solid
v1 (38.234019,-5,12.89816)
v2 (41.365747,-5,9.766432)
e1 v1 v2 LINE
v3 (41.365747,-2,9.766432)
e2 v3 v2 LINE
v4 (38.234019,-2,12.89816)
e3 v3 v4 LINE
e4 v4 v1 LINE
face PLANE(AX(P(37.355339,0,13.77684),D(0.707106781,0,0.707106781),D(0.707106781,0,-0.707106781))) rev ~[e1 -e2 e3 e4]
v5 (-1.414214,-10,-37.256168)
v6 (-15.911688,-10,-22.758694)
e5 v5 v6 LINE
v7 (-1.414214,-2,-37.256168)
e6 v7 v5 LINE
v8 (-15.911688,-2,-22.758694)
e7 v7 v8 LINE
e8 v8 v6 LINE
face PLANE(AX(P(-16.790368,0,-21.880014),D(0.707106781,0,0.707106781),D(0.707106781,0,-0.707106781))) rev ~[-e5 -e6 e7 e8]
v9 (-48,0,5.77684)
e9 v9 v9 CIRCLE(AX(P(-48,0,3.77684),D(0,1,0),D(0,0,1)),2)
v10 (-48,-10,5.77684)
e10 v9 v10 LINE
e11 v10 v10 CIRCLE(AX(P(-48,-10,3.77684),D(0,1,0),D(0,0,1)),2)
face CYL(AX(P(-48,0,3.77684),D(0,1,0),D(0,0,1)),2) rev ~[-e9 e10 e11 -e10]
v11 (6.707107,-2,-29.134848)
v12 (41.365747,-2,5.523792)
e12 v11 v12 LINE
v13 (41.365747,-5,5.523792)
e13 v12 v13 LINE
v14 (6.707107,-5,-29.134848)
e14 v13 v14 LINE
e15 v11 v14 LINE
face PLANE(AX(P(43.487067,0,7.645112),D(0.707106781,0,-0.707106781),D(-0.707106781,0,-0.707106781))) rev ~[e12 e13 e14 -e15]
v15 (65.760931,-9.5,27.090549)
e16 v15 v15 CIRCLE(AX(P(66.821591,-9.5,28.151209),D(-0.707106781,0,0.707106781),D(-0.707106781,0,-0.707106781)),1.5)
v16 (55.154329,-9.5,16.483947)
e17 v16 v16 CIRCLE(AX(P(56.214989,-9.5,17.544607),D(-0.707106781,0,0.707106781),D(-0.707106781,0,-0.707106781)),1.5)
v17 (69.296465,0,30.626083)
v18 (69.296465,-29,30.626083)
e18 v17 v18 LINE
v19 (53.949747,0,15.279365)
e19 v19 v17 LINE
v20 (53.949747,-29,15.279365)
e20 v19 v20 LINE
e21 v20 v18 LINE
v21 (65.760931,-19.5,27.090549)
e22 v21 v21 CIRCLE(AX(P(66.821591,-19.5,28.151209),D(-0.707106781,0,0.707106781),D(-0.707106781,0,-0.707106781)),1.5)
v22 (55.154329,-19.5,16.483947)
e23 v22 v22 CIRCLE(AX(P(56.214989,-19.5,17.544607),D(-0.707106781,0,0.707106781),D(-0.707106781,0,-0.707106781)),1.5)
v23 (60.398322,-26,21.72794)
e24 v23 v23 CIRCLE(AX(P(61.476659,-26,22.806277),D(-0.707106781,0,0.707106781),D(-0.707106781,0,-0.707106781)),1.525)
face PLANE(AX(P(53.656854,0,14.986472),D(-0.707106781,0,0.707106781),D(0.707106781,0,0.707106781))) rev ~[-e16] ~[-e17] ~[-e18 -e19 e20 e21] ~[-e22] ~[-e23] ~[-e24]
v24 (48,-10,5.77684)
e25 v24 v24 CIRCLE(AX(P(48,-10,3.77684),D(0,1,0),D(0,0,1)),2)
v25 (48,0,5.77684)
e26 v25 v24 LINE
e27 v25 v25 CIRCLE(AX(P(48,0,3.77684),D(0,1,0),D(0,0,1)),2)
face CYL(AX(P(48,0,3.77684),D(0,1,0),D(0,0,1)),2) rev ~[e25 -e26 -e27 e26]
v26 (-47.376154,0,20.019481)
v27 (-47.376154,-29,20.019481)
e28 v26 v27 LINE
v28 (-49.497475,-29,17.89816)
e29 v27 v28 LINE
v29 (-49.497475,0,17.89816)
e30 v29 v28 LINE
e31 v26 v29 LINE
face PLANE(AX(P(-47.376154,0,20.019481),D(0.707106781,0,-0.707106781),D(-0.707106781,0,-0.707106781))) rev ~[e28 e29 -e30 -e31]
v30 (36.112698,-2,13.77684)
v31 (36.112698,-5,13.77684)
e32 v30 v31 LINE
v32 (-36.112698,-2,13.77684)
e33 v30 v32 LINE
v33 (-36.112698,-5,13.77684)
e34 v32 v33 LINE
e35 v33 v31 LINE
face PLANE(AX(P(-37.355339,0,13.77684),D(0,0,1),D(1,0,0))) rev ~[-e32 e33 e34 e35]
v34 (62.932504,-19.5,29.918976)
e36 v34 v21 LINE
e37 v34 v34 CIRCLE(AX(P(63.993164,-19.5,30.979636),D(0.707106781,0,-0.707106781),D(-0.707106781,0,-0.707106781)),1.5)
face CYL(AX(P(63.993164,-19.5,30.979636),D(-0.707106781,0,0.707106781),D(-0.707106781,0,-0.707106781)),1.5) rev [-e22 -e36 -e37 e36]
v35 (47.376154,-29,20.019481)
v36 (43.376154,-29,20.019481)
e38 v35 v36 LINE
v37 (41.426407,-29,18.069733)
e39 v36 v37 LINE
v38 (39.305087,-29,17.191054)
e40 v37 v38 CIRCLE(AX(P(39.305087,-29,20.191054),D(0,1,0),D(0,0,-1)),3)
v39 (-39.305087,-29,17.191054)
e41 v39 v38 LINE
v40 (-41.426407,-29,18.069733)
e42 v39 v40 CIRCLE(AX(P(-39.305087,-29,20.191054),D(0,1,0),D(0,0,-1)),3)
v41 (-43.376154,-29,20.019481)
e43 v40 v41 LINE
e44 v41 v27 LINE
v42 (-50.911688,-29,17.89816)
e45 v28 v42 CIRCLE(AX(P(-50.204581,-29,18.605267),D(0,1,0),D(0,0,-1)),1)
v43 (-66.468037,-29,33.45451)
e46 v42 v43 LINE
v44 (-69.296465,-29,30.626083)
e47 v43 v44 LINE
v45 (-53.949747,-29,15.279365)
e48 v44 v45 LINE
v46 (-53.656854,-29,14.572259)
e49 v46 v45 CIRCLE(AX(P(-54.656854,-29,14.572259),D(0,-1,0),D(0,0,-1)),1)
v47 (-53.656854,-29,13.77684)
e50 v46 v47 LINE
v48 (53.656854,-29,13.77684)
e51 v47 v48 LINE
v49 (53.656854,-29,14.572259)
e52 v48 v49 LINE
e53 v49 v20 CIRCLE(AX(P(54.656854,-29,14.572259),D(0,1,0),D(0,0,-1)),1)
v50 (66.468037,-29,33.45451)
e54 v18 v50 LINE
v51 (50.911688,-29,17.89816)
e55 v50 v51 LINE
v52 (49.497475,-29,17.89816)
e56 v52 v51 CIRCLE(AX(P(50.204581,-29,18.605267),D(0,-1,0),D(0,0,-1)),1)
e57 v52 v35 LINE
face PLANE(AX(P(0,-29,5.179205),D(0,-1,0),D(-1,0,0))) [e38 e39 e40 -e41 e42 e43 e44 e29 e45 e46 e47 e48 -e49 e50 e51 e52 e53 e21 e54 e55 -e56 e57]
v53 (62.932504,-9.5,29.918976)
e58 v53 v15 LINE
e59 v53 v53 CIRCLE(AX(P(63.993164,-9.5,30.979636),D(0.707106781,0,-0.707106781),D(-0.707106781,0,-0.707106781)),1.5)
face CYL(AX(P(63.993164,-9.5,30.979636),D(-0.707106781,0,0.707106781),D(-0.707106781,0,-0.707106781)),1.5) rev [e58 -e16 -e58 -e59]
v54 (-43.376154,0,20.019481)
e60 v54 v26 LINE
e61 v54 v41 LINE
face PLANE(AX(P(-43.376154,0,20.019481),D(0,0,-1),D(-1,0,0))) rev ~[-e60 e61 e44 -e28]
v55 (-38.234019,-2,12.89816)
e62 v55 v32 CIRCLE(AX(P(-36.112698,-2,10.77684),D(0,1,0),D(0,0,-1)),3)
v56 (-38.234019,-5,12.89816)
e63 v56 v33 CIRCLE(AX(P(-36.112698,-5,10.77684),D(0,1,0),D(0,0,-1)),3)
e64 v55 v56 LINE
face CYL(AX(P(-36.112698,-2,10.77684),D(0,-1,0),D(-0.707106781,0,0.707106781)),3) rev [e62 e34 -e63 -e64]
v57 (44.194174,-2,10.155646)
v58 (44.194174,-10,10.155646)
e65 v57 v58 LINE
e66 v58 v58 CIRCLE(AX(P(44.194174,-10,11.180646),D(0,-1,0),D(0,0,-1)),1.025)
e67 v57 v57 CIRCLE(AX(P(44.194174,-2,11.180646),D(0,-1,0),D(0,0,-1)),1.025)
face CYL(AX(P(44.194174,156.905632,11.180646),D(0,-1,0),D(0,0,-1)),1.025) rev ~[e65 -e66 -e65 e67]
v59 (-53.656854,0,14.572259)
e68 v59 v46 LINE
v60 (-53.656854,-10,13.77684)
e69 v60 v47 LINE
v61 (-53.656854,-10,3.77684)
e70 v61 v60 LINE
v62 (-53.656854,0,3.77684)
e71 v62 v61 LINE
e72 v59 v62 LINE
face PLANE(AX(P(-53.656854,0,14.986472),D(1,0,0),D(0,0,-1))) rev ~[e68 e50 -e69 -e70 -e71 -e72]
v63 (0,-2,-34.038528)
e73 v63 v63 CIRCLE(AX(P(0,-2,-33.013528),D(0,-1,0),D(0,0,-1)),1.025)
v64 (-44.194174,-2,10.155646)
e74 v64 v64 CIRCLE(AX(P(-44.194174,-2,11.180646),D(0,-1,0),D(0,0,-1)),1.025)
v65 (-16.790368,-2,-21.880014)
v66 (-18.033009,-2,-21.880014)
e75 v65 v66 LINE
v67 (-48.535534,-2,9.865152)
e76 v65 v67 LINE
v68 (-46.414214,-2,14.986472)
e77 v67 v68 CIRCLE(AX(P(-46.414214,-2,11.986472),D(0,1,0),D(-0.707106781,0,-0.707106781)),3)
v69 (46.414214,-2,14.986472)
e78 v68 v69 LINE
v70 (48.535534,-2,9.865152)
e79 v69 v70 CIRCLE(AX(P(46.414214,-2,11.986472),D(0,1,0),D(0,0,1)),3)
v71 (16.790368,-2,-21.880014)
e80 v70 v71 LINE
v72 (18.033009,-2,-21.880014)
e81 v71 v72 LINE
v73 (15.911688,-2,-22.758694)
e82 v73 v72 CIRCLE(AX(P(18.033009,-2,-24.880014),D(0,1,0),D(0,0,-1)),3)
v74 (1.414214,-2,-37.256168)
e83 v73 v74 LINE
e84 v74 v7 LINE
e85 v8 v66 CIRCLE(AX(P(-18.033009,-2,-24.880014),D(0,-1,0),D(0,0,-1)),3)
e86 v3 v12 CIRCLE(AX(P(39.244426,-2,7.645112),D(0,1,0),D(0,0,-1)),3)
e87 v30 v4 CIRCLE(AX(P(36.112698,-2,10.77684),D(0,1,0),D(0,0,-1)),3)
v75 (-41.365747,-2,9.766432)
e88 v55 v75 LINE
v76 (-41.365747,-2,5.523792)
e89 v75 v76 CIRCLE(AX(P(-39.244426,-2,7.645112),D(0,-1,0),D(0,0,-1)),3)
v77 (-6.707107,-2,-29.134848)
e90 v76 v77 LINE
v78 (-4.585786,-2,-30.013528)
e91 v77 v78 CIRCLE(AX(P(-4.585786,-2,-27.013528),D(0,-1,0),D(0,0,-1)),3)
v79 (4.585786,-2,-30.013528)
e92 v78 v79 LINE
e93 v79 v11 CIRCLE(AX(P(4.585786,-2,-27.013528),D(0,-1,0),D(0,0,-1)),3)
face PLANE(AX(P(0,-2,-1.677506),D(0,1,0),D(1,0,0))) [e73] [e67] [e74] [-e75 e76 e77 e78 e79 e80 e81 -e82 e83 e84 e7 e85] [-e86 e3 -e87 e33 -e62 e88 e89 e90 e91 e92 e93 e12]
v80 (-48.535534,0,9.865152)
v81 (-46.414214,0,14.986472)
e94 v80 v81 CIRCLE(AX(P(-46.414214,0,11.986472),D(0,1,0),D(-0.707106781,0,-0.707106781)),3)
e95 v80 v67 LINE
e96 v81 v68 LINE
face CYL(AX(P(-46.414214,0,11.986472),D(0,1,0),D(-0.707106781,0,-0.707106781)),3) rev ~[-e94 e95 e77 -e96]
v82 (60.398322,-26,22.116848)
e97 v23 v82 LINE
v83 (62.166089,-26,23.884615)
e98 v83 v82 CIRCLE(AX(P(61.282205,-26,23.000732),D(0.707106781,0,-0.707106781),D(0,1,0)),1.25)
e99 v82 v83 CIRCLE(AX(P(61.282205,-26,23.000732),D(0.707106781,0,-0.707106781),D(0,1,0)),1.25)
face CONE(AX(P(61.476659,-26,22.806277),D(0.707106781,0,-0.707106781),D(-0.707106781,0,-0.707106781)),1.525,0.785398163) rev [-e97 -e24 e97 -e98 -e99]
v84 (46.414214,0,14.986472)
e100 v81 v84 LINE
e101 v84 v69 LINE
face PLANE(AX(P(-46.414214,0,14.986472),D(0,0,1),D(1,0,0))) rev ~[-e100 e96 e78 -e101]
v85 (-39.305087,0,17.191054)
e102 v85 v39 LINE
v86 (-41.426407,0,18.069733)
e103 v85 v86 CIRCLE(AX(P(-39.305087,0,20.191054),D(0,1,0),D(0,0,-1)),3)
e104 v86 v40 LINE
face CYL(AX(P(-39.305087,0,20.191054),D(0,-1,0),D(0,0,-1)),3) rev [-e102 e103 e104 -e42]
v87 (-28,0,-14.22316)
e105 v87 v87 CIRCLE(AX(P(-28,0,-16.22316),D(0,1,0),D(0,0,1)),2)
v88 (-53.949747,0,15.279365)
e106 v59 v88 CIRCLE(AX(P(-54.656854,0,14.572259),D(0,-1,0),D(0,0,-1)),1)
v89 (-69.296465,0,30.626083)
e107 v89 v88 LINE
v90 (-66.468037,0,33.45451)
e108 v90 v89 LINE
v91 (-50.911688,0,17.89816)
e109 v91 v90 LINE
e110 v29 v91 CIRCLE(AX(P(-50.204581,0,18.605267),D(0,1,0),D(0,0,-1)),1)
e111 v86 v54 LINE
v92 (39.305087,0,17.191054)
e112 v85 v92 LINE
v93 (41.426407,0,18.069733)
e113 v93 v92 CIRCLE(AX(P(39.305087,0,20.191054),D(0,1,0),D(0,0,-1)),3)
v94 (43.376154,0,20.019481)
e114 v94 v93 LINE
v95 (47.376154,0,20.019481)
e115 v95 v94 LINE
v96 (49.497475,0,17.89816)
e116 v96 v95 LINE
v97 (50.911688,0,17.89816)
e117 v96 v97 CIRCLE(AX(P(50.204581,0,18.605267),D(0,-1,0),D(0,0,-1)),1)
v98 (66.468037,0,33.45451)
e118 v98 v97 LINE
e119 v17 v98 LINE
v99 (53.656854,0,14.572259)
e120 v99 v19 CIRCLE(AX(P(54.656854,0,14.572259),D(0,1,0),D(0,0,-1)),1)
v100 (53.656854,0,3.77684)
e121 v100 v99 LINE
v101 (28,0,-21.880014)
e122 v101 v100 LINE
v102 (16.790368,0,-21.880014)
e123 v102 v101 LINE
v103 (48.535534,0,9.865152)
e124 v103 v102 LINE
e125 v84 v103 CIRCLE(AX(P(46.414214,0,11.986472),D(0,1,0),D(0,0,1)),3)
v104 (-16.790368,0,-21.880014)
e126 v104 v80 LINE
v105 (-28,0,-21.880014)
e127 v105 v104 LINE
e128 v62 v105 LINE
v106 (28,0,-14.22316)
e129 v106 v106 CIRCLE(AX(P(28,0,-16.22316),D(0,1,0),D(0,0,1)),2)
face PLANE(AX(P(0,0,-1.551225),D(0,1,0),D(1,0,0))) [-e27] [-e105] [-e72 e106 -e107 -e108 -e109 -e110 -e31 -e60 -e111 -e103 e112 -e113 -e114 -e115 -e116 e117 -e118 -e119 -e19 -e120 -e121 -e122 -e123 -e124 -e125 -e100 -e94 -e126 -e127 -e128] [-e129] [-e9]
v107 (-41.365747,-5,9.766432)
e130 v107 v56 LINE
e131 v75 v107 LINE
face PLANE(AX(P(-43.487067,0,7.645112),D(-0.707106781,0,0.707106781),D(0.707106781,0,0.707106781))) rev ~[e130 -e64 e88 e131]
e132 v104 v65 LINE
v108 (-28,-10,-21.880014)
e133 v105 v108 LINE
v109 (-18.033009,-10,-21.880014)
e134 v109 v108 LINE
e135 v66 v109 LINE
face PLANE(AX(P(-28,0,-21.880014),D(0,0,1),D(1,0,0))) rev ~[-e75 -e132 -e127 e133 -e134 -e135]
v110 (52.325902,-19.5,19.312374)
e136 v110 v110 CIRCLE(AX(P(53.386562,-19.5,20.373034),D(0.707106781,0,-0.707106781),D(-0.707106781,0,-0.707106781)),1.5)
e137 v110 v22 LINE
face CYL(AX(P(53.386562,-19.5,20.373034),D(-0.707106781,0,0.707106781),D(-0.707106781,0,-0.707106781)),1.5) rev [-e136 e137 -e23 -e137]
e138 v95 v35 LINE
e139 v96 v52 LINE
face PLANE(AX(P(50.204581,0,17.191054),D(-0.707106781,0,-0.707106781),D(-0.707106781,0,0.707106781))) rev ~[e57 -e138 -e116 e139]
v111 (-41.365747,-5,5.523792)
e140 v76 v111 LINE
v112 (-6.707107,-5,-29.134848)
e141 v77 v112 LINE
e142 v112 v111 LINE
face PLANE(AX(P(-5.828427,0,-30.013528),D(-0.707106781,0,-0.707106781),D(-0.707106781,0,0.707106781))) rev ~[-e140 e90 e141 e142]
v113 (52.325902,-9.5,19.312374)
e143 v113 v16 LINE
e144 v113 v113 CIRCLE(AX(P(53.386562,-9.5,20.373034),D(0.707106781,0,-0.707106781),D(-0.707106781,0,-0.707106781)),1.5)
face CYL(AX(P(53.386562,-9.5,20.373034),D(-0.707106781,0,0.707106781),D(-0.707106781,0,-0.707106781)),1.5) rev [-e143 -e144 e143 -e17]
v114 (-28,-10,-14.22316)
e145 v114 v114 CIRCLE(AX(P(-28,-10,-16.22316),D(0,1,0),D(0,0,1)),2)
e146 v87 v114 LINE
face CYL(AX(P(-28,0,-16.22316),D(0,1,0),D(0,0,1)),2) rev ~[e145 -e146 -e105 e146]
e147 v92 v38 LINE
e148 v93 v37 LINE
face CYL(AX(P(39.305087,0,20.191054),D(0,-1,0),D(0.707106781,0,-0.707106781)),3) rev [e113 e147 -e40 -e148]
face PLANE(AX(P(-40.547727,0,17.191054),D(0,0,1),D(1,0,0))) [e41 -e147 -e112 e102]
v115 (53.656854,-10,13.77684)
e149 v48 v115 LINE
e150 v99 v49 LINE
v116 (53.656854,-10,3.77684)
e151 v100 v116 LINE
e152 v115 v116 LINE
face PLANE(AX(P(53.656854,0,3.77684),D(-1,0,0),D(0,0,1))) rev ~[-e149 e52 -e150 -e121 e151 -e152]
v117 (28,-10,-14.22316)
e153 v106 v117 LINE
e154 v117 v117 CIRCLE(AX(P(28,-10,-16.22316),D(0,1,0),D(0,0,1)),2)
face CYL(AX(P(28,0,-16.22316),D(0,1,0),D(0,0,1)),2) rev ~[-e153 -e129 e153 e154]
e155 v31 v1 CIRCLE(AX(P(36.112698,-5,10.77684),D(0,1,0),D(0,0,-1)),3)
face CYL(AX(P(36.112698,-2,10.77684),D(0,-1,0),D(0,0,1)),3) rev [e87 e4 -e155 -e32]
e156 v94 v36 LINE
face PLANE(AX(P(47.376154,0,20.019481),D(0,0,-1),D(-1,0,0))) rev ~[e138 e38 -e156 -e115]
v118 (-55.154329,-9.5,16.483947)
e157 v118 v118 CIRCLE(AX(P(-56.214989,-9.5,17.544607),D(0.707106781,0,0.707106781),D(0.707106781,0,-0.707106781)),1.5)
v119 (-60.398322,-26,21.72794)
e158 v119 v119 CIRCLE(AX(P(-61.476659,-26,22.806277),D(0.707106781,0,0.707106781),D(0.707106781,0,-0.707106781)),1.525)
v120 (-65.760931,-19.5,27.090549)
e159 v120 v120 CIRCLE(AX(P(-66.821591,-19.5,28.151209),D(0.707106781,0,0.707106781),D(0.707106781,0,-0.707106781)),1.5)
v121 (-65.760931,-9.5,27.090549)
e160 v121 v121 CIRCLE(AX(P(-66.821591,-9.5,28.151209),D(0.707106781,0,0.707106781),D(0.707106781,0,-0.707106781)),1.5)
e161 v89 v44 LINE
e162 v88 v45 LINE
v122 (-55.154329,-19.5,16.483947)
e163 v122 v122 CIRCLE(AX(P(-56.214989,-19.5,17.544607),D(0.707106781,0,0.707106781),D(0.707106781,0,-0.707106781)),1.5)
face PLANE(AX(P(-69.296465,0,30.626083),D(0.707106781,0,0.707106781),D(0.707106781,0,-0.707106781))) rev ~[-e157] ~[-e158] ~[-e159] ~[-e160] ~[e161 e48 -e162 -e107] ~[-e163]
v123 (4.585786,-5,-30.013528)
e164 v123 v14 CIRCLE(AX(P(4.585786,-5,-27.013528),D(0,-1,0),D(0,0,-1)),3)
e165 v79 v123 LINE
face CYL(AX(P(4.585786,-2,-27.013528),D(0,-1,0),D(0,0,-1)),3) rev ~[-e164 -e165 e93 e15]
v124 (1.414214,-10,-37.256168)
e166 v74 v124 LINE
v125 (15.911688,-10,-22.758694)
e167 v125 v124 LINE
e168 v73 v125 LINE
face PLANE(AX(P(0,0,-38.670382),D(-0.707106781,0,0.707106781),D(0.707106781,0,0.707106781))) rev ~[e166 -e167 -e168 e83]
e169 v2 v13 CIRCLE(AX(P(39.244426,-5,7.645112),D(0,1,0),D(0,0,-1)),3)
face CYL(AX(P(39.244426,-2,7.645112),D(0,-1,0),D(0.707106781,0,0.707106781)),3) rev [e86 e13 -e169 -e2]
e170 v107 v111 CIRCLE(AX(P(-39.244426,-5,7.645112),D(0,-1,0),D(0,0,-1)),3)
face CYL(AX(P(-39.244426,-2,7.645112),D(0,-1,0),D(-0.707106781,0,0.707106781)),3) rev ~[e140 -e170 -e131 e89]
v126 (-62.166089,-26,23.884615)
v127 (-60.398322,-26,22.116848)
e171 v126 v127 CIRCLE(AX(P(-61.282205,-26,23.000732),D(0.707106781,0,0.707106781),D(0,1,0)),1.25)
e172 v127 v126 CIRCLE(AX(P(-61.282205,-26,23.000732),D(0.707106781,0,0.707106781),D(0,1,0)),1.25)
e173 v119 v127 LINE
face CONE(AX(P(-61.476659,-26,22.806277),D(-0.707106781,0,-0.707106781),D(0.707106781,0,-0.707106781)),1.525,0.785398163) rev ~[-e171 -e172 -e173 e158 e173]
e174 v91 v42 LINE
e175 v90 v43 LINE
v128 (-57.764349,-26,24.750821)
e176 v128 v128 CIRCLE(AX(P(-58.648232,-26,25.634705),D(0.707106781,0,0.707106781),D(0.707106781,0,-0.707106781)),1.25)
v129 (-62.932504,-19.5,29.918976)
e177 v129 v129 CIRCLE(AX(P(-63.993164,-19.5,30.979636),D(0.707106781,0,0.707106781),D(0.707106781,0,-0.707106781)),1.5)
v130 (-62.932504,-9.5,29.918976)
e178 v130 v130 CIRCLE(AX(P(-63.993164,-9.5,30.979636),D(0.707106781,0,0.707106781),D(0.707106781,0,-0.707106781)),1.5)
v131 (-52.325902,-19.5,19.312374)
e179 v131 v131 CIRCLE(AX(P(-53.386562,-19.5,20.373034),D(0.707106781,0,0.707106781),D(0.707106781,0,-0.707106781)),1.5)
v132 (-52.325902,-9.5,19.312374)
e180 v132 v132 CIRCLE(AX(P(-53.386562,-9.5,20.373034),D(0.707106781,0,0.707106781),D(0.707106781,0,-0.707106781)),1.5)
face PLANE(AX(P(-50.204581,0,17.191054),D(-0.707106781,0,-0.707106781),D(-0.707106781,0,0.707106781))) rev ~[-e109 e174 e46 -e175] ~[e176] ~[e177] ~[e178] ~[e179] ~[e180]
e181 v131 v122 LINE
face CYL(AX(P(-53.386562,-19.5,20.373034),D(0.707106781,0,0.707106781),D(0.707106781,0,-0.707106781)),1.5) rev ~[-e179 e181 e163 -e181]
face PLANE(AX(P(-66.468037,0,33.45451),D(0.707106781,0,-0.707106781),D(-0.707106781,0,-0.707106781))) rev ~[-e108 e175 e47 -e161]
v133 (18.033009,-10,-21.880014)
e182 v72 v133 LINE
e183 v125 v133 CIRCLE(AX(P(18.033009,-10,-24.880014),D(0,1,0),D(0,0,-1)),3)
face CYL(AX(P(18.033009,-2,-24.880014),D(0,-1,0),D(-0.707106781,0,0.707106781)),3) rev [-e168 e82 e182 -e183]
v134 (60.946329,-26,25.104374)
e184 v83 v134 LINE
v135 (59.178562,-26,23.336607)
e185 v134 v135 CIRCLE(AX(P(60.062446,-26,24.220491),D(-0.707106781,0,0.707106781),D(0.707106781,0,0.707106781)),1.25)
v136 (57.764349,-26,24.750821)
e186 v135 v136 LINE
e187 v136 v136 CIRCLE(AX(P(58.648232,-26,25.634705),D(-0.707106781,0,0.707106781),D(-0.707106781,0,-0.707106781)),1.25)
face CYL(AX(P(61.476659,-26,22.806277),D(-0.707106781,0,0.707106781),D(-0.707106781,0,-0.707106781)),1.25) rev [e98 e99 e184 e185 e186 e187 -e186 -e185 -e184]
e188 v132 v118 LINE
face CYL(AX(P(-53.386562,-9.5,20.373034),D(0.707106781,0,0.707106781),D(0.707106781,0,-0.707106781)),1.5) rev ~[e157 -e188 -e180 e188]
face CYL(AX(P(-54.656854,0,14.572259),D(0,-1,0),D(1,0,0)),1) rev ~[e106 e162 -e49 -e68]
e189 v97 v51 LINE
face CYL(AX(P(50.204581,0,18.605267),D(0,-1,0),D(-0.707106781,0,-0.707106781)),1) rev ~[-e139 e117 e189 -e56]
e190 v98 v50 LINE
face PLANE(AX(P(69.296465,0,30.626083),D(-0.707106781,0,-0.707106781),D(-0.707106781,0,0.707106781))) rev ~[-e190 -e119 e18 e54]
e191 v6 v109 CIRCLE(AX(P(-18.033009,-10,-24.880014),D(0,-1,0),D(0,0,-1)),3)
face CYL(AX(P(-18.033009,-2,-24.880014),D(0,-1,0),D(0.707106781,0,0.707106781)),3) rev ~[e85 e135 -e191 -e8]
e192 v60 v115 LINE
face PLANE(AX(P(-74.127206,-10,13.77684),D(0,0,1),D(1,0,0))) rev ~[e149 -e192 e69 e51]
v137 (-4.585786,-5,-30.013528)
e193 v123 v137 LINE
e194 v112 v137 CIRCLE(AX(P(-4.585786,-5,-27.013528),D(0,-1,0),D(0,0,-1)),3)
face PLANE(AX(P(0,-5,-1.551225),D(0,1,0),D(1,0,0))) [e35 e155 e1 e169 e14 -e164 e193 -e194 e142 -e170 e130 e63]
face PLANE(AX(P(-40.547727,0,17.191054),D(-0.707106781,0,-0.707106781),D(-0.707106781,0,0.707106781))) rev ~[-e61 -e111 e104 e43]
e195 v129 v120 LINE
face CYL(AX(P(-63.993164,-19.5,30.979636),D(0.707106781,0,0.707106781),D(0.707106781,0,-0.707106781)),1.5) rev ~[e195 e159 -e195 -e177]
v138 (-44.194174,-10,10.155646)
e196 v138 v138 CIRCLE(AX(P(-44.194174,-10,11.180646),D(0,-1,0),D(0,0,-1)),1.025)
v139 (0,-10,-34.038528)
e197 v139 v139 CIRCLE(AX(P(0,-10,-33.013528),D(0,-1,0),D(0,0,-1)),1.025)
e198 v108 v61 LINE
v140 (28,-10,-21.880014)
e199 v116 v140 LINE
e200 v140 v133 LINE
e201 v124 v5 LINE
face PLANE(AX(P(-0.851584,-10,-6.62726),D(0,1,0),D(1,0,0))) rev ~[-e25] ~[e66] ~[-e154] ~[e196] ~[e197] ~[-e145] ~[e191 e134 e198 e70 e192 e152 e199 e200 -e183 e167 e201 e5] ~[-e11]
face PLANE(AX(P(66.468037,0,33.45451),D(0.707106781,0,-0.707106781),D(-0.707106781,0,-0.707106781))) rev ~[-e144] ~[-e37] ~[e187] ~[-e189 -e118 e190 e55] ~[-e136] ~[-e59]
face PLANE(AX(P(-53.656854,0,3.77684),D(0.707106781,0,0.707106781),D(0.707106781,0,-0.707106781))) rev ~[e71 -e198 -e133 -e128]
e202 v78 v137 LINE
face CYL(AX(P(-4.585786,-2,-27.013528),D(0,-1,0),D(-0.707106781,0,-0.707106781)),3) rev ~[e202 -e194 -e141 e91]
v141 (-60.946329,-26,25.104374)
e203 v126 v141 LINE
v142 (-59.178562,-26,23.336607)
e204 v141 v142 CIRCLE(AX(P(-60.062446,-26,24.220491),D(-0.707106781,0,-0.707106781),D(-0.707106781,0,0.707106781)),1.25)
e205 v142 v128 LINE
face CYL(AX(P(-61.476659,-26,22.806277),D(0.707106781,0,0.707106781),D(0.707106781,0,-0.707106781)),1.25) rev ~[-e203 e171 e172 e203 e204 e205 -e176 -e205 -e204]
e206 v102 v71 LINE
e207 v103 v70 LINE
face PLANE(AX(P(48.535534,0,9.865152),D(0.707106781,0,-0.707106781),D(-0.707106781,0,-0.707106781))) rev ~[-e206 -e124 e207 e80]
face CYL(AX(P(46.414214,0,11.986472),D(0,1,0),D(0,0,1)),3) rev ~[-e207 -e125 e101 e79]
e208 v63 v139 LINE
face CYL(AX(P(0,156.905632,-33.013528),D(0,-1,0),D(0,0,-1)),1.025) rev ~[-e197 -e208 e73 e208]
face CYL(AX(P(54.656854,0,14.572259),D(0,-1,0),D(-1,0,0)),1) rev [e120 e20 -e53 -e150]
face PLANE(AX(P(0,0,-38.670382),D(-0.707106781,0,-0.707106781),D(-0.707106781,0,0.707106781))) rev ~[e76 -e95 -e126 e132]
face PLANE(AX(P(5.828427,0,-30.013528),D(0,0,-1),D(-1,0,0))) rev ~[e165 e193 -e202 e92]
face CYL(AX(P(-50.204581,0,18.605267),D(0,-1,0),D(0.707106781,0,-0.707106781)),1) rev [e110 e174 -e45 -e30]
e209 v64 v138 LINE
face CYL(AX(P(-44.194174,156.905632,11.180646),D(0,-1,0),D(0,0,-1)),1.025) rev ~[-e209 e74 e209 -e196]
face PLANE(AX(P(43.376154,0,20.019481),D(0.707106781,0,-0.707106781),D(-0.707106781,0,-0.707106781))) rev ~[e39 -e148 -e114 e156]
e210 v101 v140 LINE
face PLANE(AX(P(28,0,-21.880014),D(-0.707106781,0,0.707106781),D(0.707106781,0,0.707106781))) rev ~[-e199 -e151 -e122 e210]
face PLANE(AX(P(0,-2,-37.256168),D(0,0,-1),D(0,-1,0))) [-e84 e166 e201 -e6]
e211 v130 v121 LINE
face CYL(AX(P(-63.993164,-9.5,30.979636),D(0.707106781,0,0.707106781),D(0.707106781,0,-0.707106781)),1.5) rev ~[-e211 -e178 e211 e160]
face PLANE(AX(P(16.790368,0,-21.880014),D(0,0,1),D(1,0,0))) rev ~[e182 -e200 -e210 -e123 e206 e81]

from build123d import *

# Parameters (mm, degrees)
SKETCH_1_R                   = 2
SKETCH_1_R_2                 = 1
EXTRUDE_1_DEPTH              = 29
CUT_EXTRUDE_1_DEPTH          = 5
CUT_EXTRUDE_START            = -10
CUT_EXTRUDE_2_DEPTH          = 19
CUT_EXTRUDE_3_DEPTH          = 2
SKETCH_11_R                  = 1.5
CUT_EXTRUDE_4_DEPTH          = 104.437531222
SKETCH_13_R                  = 1.25
CUT_EXTRUDE_5_DEPTH          = 2
HOLE_WIZARD_M2_5_6_D         = 2.05
HOLE_WIZARD_M3_1_D           = 2.5
HOLE_WIZARD_M3_1_CSINK_D     = 3.05
HOLE_WIZARD_M3_1_CSINK_ANGLE = 90
CHAMFER_1_SIZE               = 2
FILLET_1_R                   = 3
FILLET_2_R                   = 1


with BuildPart() as part:
    # 草图1 → 凸台-拉伸1 (new body)
    # profile 1 of 2: a face of its own
    with BuildSketch(Plane(origin=(0, 0, 0), x_dir=(1, 0, 0), z_dir=(0, 1, 0))):
        Polygon((69.296464556, -30.626082539), (66.468037432, -33.454509664), (50.204581464, -17.191053697), (47.376154339, -20.019480821), (43.376154339, -20.019480821), (40.547727215, -17.191053697), (2.052219297, -17.191053697), (-40.547727215, -17.191053697), (-43.376154339, -20.019480821), (-47.376154339, -20.019480821), (-50.204581464, -17.191053697), (-66.468037432, -33.454509664), (-69.296464556, -30.626082539), (-53.656854249, -14.986472232), (-53.656854249, -3.776840134), (-28, 21.880014115), (-16.790367902, 21.880014115), (0, 38.670382017), (16.790367902, 21.880014115), (28, 21.880014115), (53.656854249, -3.776840134), (53.656854249, -14.986472232), align=None)
        with Locations(Location((28, 16.223159866, 0), (0, 0, 270))):
            Circle(SKETCH_1_R, mode=Mode.SUBTRACT)
        with Locations(Location((-28, 16.223159866, 0), (0, 0, 270))):
            Circle(SKETCH_1_R, mode=Mode.SUBTRACT)
        with Locations(Location((-48, -3.776840134, 0), (0, 0, 270))):
            Circle(SKETCH_1_R, mode=Mode.SUBTRACT)
        with Locations((44.194173824, -11.180646057)):
            Circle(SKETCH_1_R_2, mode=Mode.SUBTRACT)
        with Locations((-44.194173824, -11.180646057)):
            Circle(SKETCH_1_R_2, mode=Mode.SUBTRACT)
        with Locations((0, 33.013527768)):
            Circle(SKETCH_1_R_2, mode=Mode.SUBTRACT)
        with Locations(Location((48, -3.776840134, 0), (0, 0, 270))):
            Circle(SKETCH_1_R, mode=Mode.SUBTRACT)
        Polygon((-43.487067043, -7.645112151), (-37.355339059, -13.776840134), (37.355339059, -13.776840134), (43.487067043, -7.645112151), (5.828427125, 30.013527768), (-5.828427125, 30.013527768), align=None, mode=Mode.SUBTRACT)
    # profile 2 of 2: a face of its own
    with BuildSketch(Plane(origin=(0, 0, 0), x_dir=(1, 0, 0), z_dir=(0, 1, 0))):
        Polygon((-5.828427125, 30.013527768), (-43.487067043, -7.645112151), (-37.355339059, -13.776840134), (37.355339059, -13.776840134), (43.487067043, -7.645112151), (5.828427125, 30.013527768), align=None)
    extrude(amount=-EXTRUDE_1_DEPTH)

    # 草图1<3> → 切除-拉伸1 (cut)
    with BuildSketch(Plane(origin=(0, 0, 0), x_dir=(1, 0, 0), z_dir=(0, 1, 0))):
        Polygon((-5.828427125, 30.013527768), (-43.487067043, -7.645112151), (-37.355339059, -13.776840134), (37.355339059, -13.776840134), (43.487067043, -7.645112151), (5.828427125, 30.013527768), align=None)
    extrude(amount=-CUT_EXTRUDE_1_DEPTH, mode=Mode.SUBTRACT)

    # 草图3 → 切除-拉伸2 (cut)
    with BuildSketch(Plane(origin=(0, 0, 0), x_dir=(1, 0, 0), z_dir=(0, 1, 0)).offset(CUT_EXTRUDE_START)):
        Polygon((-74.127206293, -13.776840134), (70.632375227, -13.776840134), (4.598461929, 56.317971506), align=None)
    extrude(amount=-CUT_EXTRUDE_2_DEPTH, mode=Mode.SUBTRACT)

    # 草图4 → 切除-拉伸3 (cut)
    with BuildSketch(Plane(origin=(0, 0, 0), x_dir=(1, 0, 0), z_dir=(0, 1, 0))):
        with BuildLine():
            Line((-2.121320344, 36.549061673), (-48.535533906, -9.865151889))
            ThreePointArc((-48.535533906, -9.865151889), (-49.18585216, -13.13452253), (-46.414213562, -14.986472232))
            Line((-46.414213562, -14.986472232), (46.414213562, -14.986472232))
            ThreePointArc((46.414213562, -14.986472232), (49.18585216, -13.13452253), (48.535533906, -9.865151889))
            Line((48.535533906, -9.865151889), (0, 38.670382017))
            Line((0, 38.670382017), (-2.121320344, 36.549061673))
        make_face()
    extrude(amount=-CUT_EXTRUDE_3_DEPTH, mode=Mode.SUBTRACT)

    # 草图11 → 切除-拉伸4 (cut, through all)
    with BuildSketch(Plane(origin=(-16.506763884, 0, -16.506763884), x_dir=(0.7071067811865477, 0, -0.7071067811865474), z_dir=(0.7071067811865474, 0, 0.7071067811865477))):
        with Locations((-52.155910645, -9.5)):
            Circle(SKETCH_11_R)
        with Locations((-52.155910645, -19.5)):
            Circle(SKETCH_11_R)
        with Locations((-67.155910645, -19.5)):
            Circle(SKETCH_11_R)
        with Locations((-67.155910645, -9.5)):
            Circle(SKETCH_11_R)
    cut_extrude_4 = extrude(amount=-CUT_EXTRUDE_4_DEPTH, mode=Mode.SUBTRACT)

    # 草图13 → 切除-拉伸5 (cut)
    with BuildSketch(Plane(origin=(-19.335191009, 0, -19.335191009), x_dir=(-0.7071067811865488, 0, 0.7071067811865462), z_dir=(-0.7071067811865462, 0, -0.7071067811865488))):
        with Locations((59.597036142, -26)):
            Circle(SKETCH_13_R)
    cut_extrude_5 = extrude(amount=-CUT_EXTRUDE_5_DEPTH, mode=Mode.SUBTRACT)

    # M2.5 螺纹孔6 (through all)
    with Locations(Plane(origin=(0, -2, -33.013527768), x_dir=(0, 0, 1), z_dir=(0, 1, 0))):
        with Locations((0, 0), (44.194173825, -44.194173824), (44.194173825, 44.194173824)):
            Hole(HOLE_WIZARD_M2_5_6_D / 2)

    # M3 螺纹孔1 (through all)
    with Locations(Plane(origin=(-61.476659403, -26, 22.806277386), x_dir=(-0.707106781187, 0, 0.707106781187), z_dir=(-0.707106781187, 0, -0.707106781187))):
        with Locations((0, 0)):
            hole_wizard_m3_1 = CounterSinkHole(HOLE_WIZARD_M3_1_D / 2, HOLE_WIZARD_M3_1_CSINK_D / 2, counter_sink_angle=HOLE_WIZARD_M3_1_CSINK_ANGLE)

    # 镜向2: 切除-拉伸4, 切除-拉伸5, M3 螺纹孔1 across plane
    add(cut_extrude_4.mirror(Plane.ZY), mode=Mode.SUBTRACT)
    add(cut_extrude_5.mirror(Plane.ZY), mode=Mode.SUBTRACT)
    add(hole_wizard_m3_1.mirror(Plane.ZY), mode=Mode.SUBTRACT)

    # 倒角1
    chamfer_1_edges = [part.edges().sort_by_distance(p)[0] for p in [
        (0, -6, -38.670382017),
    ]]
    chamfer(chamfer_1_edges, length=CHAMFER_1_SIZE)

    # 圆角1
    fillet_1_edges = [part.edges().sort_by_distance(p)[0] for p in [
        (-16.790367902, -6, -21.880014115),
        (16.790367902, -6, -21.880014115),
        (-43.487067043, -3.5, 7.645112151),
        (-5.828427125, -3.5, -30.013527768),
        (-37.355339059, -3.5, 13.776840134),
        (5.828427125, -3.5, -30.013527768),
        (37.355339059, -3.5, 13.776840134),
        (43.487067043, -3.5, 7.645112151),
        (-40.547727215, -14.5, 17.191053697),
        (40.547727215, -14.5, 17.191053697),
    ]]
    fillet(fillet_1_edges, radius=FILLET_1_R)

    # 圆角2
    fillet_2_edges = [part.edges().sort_by_distance(p)[0] for p in [
        (-53.656854249, -14.5, 14.986472232),
        (53.656854249, -14.5, 14.986472232),
        (-50.204581464, -14.5, 17.191053697),
        (50.204581464, -14.5, 17.191053697),
    ]]
    fillet(fillet_2_edges, radius=FILLET_2_R)


solid = part.part
